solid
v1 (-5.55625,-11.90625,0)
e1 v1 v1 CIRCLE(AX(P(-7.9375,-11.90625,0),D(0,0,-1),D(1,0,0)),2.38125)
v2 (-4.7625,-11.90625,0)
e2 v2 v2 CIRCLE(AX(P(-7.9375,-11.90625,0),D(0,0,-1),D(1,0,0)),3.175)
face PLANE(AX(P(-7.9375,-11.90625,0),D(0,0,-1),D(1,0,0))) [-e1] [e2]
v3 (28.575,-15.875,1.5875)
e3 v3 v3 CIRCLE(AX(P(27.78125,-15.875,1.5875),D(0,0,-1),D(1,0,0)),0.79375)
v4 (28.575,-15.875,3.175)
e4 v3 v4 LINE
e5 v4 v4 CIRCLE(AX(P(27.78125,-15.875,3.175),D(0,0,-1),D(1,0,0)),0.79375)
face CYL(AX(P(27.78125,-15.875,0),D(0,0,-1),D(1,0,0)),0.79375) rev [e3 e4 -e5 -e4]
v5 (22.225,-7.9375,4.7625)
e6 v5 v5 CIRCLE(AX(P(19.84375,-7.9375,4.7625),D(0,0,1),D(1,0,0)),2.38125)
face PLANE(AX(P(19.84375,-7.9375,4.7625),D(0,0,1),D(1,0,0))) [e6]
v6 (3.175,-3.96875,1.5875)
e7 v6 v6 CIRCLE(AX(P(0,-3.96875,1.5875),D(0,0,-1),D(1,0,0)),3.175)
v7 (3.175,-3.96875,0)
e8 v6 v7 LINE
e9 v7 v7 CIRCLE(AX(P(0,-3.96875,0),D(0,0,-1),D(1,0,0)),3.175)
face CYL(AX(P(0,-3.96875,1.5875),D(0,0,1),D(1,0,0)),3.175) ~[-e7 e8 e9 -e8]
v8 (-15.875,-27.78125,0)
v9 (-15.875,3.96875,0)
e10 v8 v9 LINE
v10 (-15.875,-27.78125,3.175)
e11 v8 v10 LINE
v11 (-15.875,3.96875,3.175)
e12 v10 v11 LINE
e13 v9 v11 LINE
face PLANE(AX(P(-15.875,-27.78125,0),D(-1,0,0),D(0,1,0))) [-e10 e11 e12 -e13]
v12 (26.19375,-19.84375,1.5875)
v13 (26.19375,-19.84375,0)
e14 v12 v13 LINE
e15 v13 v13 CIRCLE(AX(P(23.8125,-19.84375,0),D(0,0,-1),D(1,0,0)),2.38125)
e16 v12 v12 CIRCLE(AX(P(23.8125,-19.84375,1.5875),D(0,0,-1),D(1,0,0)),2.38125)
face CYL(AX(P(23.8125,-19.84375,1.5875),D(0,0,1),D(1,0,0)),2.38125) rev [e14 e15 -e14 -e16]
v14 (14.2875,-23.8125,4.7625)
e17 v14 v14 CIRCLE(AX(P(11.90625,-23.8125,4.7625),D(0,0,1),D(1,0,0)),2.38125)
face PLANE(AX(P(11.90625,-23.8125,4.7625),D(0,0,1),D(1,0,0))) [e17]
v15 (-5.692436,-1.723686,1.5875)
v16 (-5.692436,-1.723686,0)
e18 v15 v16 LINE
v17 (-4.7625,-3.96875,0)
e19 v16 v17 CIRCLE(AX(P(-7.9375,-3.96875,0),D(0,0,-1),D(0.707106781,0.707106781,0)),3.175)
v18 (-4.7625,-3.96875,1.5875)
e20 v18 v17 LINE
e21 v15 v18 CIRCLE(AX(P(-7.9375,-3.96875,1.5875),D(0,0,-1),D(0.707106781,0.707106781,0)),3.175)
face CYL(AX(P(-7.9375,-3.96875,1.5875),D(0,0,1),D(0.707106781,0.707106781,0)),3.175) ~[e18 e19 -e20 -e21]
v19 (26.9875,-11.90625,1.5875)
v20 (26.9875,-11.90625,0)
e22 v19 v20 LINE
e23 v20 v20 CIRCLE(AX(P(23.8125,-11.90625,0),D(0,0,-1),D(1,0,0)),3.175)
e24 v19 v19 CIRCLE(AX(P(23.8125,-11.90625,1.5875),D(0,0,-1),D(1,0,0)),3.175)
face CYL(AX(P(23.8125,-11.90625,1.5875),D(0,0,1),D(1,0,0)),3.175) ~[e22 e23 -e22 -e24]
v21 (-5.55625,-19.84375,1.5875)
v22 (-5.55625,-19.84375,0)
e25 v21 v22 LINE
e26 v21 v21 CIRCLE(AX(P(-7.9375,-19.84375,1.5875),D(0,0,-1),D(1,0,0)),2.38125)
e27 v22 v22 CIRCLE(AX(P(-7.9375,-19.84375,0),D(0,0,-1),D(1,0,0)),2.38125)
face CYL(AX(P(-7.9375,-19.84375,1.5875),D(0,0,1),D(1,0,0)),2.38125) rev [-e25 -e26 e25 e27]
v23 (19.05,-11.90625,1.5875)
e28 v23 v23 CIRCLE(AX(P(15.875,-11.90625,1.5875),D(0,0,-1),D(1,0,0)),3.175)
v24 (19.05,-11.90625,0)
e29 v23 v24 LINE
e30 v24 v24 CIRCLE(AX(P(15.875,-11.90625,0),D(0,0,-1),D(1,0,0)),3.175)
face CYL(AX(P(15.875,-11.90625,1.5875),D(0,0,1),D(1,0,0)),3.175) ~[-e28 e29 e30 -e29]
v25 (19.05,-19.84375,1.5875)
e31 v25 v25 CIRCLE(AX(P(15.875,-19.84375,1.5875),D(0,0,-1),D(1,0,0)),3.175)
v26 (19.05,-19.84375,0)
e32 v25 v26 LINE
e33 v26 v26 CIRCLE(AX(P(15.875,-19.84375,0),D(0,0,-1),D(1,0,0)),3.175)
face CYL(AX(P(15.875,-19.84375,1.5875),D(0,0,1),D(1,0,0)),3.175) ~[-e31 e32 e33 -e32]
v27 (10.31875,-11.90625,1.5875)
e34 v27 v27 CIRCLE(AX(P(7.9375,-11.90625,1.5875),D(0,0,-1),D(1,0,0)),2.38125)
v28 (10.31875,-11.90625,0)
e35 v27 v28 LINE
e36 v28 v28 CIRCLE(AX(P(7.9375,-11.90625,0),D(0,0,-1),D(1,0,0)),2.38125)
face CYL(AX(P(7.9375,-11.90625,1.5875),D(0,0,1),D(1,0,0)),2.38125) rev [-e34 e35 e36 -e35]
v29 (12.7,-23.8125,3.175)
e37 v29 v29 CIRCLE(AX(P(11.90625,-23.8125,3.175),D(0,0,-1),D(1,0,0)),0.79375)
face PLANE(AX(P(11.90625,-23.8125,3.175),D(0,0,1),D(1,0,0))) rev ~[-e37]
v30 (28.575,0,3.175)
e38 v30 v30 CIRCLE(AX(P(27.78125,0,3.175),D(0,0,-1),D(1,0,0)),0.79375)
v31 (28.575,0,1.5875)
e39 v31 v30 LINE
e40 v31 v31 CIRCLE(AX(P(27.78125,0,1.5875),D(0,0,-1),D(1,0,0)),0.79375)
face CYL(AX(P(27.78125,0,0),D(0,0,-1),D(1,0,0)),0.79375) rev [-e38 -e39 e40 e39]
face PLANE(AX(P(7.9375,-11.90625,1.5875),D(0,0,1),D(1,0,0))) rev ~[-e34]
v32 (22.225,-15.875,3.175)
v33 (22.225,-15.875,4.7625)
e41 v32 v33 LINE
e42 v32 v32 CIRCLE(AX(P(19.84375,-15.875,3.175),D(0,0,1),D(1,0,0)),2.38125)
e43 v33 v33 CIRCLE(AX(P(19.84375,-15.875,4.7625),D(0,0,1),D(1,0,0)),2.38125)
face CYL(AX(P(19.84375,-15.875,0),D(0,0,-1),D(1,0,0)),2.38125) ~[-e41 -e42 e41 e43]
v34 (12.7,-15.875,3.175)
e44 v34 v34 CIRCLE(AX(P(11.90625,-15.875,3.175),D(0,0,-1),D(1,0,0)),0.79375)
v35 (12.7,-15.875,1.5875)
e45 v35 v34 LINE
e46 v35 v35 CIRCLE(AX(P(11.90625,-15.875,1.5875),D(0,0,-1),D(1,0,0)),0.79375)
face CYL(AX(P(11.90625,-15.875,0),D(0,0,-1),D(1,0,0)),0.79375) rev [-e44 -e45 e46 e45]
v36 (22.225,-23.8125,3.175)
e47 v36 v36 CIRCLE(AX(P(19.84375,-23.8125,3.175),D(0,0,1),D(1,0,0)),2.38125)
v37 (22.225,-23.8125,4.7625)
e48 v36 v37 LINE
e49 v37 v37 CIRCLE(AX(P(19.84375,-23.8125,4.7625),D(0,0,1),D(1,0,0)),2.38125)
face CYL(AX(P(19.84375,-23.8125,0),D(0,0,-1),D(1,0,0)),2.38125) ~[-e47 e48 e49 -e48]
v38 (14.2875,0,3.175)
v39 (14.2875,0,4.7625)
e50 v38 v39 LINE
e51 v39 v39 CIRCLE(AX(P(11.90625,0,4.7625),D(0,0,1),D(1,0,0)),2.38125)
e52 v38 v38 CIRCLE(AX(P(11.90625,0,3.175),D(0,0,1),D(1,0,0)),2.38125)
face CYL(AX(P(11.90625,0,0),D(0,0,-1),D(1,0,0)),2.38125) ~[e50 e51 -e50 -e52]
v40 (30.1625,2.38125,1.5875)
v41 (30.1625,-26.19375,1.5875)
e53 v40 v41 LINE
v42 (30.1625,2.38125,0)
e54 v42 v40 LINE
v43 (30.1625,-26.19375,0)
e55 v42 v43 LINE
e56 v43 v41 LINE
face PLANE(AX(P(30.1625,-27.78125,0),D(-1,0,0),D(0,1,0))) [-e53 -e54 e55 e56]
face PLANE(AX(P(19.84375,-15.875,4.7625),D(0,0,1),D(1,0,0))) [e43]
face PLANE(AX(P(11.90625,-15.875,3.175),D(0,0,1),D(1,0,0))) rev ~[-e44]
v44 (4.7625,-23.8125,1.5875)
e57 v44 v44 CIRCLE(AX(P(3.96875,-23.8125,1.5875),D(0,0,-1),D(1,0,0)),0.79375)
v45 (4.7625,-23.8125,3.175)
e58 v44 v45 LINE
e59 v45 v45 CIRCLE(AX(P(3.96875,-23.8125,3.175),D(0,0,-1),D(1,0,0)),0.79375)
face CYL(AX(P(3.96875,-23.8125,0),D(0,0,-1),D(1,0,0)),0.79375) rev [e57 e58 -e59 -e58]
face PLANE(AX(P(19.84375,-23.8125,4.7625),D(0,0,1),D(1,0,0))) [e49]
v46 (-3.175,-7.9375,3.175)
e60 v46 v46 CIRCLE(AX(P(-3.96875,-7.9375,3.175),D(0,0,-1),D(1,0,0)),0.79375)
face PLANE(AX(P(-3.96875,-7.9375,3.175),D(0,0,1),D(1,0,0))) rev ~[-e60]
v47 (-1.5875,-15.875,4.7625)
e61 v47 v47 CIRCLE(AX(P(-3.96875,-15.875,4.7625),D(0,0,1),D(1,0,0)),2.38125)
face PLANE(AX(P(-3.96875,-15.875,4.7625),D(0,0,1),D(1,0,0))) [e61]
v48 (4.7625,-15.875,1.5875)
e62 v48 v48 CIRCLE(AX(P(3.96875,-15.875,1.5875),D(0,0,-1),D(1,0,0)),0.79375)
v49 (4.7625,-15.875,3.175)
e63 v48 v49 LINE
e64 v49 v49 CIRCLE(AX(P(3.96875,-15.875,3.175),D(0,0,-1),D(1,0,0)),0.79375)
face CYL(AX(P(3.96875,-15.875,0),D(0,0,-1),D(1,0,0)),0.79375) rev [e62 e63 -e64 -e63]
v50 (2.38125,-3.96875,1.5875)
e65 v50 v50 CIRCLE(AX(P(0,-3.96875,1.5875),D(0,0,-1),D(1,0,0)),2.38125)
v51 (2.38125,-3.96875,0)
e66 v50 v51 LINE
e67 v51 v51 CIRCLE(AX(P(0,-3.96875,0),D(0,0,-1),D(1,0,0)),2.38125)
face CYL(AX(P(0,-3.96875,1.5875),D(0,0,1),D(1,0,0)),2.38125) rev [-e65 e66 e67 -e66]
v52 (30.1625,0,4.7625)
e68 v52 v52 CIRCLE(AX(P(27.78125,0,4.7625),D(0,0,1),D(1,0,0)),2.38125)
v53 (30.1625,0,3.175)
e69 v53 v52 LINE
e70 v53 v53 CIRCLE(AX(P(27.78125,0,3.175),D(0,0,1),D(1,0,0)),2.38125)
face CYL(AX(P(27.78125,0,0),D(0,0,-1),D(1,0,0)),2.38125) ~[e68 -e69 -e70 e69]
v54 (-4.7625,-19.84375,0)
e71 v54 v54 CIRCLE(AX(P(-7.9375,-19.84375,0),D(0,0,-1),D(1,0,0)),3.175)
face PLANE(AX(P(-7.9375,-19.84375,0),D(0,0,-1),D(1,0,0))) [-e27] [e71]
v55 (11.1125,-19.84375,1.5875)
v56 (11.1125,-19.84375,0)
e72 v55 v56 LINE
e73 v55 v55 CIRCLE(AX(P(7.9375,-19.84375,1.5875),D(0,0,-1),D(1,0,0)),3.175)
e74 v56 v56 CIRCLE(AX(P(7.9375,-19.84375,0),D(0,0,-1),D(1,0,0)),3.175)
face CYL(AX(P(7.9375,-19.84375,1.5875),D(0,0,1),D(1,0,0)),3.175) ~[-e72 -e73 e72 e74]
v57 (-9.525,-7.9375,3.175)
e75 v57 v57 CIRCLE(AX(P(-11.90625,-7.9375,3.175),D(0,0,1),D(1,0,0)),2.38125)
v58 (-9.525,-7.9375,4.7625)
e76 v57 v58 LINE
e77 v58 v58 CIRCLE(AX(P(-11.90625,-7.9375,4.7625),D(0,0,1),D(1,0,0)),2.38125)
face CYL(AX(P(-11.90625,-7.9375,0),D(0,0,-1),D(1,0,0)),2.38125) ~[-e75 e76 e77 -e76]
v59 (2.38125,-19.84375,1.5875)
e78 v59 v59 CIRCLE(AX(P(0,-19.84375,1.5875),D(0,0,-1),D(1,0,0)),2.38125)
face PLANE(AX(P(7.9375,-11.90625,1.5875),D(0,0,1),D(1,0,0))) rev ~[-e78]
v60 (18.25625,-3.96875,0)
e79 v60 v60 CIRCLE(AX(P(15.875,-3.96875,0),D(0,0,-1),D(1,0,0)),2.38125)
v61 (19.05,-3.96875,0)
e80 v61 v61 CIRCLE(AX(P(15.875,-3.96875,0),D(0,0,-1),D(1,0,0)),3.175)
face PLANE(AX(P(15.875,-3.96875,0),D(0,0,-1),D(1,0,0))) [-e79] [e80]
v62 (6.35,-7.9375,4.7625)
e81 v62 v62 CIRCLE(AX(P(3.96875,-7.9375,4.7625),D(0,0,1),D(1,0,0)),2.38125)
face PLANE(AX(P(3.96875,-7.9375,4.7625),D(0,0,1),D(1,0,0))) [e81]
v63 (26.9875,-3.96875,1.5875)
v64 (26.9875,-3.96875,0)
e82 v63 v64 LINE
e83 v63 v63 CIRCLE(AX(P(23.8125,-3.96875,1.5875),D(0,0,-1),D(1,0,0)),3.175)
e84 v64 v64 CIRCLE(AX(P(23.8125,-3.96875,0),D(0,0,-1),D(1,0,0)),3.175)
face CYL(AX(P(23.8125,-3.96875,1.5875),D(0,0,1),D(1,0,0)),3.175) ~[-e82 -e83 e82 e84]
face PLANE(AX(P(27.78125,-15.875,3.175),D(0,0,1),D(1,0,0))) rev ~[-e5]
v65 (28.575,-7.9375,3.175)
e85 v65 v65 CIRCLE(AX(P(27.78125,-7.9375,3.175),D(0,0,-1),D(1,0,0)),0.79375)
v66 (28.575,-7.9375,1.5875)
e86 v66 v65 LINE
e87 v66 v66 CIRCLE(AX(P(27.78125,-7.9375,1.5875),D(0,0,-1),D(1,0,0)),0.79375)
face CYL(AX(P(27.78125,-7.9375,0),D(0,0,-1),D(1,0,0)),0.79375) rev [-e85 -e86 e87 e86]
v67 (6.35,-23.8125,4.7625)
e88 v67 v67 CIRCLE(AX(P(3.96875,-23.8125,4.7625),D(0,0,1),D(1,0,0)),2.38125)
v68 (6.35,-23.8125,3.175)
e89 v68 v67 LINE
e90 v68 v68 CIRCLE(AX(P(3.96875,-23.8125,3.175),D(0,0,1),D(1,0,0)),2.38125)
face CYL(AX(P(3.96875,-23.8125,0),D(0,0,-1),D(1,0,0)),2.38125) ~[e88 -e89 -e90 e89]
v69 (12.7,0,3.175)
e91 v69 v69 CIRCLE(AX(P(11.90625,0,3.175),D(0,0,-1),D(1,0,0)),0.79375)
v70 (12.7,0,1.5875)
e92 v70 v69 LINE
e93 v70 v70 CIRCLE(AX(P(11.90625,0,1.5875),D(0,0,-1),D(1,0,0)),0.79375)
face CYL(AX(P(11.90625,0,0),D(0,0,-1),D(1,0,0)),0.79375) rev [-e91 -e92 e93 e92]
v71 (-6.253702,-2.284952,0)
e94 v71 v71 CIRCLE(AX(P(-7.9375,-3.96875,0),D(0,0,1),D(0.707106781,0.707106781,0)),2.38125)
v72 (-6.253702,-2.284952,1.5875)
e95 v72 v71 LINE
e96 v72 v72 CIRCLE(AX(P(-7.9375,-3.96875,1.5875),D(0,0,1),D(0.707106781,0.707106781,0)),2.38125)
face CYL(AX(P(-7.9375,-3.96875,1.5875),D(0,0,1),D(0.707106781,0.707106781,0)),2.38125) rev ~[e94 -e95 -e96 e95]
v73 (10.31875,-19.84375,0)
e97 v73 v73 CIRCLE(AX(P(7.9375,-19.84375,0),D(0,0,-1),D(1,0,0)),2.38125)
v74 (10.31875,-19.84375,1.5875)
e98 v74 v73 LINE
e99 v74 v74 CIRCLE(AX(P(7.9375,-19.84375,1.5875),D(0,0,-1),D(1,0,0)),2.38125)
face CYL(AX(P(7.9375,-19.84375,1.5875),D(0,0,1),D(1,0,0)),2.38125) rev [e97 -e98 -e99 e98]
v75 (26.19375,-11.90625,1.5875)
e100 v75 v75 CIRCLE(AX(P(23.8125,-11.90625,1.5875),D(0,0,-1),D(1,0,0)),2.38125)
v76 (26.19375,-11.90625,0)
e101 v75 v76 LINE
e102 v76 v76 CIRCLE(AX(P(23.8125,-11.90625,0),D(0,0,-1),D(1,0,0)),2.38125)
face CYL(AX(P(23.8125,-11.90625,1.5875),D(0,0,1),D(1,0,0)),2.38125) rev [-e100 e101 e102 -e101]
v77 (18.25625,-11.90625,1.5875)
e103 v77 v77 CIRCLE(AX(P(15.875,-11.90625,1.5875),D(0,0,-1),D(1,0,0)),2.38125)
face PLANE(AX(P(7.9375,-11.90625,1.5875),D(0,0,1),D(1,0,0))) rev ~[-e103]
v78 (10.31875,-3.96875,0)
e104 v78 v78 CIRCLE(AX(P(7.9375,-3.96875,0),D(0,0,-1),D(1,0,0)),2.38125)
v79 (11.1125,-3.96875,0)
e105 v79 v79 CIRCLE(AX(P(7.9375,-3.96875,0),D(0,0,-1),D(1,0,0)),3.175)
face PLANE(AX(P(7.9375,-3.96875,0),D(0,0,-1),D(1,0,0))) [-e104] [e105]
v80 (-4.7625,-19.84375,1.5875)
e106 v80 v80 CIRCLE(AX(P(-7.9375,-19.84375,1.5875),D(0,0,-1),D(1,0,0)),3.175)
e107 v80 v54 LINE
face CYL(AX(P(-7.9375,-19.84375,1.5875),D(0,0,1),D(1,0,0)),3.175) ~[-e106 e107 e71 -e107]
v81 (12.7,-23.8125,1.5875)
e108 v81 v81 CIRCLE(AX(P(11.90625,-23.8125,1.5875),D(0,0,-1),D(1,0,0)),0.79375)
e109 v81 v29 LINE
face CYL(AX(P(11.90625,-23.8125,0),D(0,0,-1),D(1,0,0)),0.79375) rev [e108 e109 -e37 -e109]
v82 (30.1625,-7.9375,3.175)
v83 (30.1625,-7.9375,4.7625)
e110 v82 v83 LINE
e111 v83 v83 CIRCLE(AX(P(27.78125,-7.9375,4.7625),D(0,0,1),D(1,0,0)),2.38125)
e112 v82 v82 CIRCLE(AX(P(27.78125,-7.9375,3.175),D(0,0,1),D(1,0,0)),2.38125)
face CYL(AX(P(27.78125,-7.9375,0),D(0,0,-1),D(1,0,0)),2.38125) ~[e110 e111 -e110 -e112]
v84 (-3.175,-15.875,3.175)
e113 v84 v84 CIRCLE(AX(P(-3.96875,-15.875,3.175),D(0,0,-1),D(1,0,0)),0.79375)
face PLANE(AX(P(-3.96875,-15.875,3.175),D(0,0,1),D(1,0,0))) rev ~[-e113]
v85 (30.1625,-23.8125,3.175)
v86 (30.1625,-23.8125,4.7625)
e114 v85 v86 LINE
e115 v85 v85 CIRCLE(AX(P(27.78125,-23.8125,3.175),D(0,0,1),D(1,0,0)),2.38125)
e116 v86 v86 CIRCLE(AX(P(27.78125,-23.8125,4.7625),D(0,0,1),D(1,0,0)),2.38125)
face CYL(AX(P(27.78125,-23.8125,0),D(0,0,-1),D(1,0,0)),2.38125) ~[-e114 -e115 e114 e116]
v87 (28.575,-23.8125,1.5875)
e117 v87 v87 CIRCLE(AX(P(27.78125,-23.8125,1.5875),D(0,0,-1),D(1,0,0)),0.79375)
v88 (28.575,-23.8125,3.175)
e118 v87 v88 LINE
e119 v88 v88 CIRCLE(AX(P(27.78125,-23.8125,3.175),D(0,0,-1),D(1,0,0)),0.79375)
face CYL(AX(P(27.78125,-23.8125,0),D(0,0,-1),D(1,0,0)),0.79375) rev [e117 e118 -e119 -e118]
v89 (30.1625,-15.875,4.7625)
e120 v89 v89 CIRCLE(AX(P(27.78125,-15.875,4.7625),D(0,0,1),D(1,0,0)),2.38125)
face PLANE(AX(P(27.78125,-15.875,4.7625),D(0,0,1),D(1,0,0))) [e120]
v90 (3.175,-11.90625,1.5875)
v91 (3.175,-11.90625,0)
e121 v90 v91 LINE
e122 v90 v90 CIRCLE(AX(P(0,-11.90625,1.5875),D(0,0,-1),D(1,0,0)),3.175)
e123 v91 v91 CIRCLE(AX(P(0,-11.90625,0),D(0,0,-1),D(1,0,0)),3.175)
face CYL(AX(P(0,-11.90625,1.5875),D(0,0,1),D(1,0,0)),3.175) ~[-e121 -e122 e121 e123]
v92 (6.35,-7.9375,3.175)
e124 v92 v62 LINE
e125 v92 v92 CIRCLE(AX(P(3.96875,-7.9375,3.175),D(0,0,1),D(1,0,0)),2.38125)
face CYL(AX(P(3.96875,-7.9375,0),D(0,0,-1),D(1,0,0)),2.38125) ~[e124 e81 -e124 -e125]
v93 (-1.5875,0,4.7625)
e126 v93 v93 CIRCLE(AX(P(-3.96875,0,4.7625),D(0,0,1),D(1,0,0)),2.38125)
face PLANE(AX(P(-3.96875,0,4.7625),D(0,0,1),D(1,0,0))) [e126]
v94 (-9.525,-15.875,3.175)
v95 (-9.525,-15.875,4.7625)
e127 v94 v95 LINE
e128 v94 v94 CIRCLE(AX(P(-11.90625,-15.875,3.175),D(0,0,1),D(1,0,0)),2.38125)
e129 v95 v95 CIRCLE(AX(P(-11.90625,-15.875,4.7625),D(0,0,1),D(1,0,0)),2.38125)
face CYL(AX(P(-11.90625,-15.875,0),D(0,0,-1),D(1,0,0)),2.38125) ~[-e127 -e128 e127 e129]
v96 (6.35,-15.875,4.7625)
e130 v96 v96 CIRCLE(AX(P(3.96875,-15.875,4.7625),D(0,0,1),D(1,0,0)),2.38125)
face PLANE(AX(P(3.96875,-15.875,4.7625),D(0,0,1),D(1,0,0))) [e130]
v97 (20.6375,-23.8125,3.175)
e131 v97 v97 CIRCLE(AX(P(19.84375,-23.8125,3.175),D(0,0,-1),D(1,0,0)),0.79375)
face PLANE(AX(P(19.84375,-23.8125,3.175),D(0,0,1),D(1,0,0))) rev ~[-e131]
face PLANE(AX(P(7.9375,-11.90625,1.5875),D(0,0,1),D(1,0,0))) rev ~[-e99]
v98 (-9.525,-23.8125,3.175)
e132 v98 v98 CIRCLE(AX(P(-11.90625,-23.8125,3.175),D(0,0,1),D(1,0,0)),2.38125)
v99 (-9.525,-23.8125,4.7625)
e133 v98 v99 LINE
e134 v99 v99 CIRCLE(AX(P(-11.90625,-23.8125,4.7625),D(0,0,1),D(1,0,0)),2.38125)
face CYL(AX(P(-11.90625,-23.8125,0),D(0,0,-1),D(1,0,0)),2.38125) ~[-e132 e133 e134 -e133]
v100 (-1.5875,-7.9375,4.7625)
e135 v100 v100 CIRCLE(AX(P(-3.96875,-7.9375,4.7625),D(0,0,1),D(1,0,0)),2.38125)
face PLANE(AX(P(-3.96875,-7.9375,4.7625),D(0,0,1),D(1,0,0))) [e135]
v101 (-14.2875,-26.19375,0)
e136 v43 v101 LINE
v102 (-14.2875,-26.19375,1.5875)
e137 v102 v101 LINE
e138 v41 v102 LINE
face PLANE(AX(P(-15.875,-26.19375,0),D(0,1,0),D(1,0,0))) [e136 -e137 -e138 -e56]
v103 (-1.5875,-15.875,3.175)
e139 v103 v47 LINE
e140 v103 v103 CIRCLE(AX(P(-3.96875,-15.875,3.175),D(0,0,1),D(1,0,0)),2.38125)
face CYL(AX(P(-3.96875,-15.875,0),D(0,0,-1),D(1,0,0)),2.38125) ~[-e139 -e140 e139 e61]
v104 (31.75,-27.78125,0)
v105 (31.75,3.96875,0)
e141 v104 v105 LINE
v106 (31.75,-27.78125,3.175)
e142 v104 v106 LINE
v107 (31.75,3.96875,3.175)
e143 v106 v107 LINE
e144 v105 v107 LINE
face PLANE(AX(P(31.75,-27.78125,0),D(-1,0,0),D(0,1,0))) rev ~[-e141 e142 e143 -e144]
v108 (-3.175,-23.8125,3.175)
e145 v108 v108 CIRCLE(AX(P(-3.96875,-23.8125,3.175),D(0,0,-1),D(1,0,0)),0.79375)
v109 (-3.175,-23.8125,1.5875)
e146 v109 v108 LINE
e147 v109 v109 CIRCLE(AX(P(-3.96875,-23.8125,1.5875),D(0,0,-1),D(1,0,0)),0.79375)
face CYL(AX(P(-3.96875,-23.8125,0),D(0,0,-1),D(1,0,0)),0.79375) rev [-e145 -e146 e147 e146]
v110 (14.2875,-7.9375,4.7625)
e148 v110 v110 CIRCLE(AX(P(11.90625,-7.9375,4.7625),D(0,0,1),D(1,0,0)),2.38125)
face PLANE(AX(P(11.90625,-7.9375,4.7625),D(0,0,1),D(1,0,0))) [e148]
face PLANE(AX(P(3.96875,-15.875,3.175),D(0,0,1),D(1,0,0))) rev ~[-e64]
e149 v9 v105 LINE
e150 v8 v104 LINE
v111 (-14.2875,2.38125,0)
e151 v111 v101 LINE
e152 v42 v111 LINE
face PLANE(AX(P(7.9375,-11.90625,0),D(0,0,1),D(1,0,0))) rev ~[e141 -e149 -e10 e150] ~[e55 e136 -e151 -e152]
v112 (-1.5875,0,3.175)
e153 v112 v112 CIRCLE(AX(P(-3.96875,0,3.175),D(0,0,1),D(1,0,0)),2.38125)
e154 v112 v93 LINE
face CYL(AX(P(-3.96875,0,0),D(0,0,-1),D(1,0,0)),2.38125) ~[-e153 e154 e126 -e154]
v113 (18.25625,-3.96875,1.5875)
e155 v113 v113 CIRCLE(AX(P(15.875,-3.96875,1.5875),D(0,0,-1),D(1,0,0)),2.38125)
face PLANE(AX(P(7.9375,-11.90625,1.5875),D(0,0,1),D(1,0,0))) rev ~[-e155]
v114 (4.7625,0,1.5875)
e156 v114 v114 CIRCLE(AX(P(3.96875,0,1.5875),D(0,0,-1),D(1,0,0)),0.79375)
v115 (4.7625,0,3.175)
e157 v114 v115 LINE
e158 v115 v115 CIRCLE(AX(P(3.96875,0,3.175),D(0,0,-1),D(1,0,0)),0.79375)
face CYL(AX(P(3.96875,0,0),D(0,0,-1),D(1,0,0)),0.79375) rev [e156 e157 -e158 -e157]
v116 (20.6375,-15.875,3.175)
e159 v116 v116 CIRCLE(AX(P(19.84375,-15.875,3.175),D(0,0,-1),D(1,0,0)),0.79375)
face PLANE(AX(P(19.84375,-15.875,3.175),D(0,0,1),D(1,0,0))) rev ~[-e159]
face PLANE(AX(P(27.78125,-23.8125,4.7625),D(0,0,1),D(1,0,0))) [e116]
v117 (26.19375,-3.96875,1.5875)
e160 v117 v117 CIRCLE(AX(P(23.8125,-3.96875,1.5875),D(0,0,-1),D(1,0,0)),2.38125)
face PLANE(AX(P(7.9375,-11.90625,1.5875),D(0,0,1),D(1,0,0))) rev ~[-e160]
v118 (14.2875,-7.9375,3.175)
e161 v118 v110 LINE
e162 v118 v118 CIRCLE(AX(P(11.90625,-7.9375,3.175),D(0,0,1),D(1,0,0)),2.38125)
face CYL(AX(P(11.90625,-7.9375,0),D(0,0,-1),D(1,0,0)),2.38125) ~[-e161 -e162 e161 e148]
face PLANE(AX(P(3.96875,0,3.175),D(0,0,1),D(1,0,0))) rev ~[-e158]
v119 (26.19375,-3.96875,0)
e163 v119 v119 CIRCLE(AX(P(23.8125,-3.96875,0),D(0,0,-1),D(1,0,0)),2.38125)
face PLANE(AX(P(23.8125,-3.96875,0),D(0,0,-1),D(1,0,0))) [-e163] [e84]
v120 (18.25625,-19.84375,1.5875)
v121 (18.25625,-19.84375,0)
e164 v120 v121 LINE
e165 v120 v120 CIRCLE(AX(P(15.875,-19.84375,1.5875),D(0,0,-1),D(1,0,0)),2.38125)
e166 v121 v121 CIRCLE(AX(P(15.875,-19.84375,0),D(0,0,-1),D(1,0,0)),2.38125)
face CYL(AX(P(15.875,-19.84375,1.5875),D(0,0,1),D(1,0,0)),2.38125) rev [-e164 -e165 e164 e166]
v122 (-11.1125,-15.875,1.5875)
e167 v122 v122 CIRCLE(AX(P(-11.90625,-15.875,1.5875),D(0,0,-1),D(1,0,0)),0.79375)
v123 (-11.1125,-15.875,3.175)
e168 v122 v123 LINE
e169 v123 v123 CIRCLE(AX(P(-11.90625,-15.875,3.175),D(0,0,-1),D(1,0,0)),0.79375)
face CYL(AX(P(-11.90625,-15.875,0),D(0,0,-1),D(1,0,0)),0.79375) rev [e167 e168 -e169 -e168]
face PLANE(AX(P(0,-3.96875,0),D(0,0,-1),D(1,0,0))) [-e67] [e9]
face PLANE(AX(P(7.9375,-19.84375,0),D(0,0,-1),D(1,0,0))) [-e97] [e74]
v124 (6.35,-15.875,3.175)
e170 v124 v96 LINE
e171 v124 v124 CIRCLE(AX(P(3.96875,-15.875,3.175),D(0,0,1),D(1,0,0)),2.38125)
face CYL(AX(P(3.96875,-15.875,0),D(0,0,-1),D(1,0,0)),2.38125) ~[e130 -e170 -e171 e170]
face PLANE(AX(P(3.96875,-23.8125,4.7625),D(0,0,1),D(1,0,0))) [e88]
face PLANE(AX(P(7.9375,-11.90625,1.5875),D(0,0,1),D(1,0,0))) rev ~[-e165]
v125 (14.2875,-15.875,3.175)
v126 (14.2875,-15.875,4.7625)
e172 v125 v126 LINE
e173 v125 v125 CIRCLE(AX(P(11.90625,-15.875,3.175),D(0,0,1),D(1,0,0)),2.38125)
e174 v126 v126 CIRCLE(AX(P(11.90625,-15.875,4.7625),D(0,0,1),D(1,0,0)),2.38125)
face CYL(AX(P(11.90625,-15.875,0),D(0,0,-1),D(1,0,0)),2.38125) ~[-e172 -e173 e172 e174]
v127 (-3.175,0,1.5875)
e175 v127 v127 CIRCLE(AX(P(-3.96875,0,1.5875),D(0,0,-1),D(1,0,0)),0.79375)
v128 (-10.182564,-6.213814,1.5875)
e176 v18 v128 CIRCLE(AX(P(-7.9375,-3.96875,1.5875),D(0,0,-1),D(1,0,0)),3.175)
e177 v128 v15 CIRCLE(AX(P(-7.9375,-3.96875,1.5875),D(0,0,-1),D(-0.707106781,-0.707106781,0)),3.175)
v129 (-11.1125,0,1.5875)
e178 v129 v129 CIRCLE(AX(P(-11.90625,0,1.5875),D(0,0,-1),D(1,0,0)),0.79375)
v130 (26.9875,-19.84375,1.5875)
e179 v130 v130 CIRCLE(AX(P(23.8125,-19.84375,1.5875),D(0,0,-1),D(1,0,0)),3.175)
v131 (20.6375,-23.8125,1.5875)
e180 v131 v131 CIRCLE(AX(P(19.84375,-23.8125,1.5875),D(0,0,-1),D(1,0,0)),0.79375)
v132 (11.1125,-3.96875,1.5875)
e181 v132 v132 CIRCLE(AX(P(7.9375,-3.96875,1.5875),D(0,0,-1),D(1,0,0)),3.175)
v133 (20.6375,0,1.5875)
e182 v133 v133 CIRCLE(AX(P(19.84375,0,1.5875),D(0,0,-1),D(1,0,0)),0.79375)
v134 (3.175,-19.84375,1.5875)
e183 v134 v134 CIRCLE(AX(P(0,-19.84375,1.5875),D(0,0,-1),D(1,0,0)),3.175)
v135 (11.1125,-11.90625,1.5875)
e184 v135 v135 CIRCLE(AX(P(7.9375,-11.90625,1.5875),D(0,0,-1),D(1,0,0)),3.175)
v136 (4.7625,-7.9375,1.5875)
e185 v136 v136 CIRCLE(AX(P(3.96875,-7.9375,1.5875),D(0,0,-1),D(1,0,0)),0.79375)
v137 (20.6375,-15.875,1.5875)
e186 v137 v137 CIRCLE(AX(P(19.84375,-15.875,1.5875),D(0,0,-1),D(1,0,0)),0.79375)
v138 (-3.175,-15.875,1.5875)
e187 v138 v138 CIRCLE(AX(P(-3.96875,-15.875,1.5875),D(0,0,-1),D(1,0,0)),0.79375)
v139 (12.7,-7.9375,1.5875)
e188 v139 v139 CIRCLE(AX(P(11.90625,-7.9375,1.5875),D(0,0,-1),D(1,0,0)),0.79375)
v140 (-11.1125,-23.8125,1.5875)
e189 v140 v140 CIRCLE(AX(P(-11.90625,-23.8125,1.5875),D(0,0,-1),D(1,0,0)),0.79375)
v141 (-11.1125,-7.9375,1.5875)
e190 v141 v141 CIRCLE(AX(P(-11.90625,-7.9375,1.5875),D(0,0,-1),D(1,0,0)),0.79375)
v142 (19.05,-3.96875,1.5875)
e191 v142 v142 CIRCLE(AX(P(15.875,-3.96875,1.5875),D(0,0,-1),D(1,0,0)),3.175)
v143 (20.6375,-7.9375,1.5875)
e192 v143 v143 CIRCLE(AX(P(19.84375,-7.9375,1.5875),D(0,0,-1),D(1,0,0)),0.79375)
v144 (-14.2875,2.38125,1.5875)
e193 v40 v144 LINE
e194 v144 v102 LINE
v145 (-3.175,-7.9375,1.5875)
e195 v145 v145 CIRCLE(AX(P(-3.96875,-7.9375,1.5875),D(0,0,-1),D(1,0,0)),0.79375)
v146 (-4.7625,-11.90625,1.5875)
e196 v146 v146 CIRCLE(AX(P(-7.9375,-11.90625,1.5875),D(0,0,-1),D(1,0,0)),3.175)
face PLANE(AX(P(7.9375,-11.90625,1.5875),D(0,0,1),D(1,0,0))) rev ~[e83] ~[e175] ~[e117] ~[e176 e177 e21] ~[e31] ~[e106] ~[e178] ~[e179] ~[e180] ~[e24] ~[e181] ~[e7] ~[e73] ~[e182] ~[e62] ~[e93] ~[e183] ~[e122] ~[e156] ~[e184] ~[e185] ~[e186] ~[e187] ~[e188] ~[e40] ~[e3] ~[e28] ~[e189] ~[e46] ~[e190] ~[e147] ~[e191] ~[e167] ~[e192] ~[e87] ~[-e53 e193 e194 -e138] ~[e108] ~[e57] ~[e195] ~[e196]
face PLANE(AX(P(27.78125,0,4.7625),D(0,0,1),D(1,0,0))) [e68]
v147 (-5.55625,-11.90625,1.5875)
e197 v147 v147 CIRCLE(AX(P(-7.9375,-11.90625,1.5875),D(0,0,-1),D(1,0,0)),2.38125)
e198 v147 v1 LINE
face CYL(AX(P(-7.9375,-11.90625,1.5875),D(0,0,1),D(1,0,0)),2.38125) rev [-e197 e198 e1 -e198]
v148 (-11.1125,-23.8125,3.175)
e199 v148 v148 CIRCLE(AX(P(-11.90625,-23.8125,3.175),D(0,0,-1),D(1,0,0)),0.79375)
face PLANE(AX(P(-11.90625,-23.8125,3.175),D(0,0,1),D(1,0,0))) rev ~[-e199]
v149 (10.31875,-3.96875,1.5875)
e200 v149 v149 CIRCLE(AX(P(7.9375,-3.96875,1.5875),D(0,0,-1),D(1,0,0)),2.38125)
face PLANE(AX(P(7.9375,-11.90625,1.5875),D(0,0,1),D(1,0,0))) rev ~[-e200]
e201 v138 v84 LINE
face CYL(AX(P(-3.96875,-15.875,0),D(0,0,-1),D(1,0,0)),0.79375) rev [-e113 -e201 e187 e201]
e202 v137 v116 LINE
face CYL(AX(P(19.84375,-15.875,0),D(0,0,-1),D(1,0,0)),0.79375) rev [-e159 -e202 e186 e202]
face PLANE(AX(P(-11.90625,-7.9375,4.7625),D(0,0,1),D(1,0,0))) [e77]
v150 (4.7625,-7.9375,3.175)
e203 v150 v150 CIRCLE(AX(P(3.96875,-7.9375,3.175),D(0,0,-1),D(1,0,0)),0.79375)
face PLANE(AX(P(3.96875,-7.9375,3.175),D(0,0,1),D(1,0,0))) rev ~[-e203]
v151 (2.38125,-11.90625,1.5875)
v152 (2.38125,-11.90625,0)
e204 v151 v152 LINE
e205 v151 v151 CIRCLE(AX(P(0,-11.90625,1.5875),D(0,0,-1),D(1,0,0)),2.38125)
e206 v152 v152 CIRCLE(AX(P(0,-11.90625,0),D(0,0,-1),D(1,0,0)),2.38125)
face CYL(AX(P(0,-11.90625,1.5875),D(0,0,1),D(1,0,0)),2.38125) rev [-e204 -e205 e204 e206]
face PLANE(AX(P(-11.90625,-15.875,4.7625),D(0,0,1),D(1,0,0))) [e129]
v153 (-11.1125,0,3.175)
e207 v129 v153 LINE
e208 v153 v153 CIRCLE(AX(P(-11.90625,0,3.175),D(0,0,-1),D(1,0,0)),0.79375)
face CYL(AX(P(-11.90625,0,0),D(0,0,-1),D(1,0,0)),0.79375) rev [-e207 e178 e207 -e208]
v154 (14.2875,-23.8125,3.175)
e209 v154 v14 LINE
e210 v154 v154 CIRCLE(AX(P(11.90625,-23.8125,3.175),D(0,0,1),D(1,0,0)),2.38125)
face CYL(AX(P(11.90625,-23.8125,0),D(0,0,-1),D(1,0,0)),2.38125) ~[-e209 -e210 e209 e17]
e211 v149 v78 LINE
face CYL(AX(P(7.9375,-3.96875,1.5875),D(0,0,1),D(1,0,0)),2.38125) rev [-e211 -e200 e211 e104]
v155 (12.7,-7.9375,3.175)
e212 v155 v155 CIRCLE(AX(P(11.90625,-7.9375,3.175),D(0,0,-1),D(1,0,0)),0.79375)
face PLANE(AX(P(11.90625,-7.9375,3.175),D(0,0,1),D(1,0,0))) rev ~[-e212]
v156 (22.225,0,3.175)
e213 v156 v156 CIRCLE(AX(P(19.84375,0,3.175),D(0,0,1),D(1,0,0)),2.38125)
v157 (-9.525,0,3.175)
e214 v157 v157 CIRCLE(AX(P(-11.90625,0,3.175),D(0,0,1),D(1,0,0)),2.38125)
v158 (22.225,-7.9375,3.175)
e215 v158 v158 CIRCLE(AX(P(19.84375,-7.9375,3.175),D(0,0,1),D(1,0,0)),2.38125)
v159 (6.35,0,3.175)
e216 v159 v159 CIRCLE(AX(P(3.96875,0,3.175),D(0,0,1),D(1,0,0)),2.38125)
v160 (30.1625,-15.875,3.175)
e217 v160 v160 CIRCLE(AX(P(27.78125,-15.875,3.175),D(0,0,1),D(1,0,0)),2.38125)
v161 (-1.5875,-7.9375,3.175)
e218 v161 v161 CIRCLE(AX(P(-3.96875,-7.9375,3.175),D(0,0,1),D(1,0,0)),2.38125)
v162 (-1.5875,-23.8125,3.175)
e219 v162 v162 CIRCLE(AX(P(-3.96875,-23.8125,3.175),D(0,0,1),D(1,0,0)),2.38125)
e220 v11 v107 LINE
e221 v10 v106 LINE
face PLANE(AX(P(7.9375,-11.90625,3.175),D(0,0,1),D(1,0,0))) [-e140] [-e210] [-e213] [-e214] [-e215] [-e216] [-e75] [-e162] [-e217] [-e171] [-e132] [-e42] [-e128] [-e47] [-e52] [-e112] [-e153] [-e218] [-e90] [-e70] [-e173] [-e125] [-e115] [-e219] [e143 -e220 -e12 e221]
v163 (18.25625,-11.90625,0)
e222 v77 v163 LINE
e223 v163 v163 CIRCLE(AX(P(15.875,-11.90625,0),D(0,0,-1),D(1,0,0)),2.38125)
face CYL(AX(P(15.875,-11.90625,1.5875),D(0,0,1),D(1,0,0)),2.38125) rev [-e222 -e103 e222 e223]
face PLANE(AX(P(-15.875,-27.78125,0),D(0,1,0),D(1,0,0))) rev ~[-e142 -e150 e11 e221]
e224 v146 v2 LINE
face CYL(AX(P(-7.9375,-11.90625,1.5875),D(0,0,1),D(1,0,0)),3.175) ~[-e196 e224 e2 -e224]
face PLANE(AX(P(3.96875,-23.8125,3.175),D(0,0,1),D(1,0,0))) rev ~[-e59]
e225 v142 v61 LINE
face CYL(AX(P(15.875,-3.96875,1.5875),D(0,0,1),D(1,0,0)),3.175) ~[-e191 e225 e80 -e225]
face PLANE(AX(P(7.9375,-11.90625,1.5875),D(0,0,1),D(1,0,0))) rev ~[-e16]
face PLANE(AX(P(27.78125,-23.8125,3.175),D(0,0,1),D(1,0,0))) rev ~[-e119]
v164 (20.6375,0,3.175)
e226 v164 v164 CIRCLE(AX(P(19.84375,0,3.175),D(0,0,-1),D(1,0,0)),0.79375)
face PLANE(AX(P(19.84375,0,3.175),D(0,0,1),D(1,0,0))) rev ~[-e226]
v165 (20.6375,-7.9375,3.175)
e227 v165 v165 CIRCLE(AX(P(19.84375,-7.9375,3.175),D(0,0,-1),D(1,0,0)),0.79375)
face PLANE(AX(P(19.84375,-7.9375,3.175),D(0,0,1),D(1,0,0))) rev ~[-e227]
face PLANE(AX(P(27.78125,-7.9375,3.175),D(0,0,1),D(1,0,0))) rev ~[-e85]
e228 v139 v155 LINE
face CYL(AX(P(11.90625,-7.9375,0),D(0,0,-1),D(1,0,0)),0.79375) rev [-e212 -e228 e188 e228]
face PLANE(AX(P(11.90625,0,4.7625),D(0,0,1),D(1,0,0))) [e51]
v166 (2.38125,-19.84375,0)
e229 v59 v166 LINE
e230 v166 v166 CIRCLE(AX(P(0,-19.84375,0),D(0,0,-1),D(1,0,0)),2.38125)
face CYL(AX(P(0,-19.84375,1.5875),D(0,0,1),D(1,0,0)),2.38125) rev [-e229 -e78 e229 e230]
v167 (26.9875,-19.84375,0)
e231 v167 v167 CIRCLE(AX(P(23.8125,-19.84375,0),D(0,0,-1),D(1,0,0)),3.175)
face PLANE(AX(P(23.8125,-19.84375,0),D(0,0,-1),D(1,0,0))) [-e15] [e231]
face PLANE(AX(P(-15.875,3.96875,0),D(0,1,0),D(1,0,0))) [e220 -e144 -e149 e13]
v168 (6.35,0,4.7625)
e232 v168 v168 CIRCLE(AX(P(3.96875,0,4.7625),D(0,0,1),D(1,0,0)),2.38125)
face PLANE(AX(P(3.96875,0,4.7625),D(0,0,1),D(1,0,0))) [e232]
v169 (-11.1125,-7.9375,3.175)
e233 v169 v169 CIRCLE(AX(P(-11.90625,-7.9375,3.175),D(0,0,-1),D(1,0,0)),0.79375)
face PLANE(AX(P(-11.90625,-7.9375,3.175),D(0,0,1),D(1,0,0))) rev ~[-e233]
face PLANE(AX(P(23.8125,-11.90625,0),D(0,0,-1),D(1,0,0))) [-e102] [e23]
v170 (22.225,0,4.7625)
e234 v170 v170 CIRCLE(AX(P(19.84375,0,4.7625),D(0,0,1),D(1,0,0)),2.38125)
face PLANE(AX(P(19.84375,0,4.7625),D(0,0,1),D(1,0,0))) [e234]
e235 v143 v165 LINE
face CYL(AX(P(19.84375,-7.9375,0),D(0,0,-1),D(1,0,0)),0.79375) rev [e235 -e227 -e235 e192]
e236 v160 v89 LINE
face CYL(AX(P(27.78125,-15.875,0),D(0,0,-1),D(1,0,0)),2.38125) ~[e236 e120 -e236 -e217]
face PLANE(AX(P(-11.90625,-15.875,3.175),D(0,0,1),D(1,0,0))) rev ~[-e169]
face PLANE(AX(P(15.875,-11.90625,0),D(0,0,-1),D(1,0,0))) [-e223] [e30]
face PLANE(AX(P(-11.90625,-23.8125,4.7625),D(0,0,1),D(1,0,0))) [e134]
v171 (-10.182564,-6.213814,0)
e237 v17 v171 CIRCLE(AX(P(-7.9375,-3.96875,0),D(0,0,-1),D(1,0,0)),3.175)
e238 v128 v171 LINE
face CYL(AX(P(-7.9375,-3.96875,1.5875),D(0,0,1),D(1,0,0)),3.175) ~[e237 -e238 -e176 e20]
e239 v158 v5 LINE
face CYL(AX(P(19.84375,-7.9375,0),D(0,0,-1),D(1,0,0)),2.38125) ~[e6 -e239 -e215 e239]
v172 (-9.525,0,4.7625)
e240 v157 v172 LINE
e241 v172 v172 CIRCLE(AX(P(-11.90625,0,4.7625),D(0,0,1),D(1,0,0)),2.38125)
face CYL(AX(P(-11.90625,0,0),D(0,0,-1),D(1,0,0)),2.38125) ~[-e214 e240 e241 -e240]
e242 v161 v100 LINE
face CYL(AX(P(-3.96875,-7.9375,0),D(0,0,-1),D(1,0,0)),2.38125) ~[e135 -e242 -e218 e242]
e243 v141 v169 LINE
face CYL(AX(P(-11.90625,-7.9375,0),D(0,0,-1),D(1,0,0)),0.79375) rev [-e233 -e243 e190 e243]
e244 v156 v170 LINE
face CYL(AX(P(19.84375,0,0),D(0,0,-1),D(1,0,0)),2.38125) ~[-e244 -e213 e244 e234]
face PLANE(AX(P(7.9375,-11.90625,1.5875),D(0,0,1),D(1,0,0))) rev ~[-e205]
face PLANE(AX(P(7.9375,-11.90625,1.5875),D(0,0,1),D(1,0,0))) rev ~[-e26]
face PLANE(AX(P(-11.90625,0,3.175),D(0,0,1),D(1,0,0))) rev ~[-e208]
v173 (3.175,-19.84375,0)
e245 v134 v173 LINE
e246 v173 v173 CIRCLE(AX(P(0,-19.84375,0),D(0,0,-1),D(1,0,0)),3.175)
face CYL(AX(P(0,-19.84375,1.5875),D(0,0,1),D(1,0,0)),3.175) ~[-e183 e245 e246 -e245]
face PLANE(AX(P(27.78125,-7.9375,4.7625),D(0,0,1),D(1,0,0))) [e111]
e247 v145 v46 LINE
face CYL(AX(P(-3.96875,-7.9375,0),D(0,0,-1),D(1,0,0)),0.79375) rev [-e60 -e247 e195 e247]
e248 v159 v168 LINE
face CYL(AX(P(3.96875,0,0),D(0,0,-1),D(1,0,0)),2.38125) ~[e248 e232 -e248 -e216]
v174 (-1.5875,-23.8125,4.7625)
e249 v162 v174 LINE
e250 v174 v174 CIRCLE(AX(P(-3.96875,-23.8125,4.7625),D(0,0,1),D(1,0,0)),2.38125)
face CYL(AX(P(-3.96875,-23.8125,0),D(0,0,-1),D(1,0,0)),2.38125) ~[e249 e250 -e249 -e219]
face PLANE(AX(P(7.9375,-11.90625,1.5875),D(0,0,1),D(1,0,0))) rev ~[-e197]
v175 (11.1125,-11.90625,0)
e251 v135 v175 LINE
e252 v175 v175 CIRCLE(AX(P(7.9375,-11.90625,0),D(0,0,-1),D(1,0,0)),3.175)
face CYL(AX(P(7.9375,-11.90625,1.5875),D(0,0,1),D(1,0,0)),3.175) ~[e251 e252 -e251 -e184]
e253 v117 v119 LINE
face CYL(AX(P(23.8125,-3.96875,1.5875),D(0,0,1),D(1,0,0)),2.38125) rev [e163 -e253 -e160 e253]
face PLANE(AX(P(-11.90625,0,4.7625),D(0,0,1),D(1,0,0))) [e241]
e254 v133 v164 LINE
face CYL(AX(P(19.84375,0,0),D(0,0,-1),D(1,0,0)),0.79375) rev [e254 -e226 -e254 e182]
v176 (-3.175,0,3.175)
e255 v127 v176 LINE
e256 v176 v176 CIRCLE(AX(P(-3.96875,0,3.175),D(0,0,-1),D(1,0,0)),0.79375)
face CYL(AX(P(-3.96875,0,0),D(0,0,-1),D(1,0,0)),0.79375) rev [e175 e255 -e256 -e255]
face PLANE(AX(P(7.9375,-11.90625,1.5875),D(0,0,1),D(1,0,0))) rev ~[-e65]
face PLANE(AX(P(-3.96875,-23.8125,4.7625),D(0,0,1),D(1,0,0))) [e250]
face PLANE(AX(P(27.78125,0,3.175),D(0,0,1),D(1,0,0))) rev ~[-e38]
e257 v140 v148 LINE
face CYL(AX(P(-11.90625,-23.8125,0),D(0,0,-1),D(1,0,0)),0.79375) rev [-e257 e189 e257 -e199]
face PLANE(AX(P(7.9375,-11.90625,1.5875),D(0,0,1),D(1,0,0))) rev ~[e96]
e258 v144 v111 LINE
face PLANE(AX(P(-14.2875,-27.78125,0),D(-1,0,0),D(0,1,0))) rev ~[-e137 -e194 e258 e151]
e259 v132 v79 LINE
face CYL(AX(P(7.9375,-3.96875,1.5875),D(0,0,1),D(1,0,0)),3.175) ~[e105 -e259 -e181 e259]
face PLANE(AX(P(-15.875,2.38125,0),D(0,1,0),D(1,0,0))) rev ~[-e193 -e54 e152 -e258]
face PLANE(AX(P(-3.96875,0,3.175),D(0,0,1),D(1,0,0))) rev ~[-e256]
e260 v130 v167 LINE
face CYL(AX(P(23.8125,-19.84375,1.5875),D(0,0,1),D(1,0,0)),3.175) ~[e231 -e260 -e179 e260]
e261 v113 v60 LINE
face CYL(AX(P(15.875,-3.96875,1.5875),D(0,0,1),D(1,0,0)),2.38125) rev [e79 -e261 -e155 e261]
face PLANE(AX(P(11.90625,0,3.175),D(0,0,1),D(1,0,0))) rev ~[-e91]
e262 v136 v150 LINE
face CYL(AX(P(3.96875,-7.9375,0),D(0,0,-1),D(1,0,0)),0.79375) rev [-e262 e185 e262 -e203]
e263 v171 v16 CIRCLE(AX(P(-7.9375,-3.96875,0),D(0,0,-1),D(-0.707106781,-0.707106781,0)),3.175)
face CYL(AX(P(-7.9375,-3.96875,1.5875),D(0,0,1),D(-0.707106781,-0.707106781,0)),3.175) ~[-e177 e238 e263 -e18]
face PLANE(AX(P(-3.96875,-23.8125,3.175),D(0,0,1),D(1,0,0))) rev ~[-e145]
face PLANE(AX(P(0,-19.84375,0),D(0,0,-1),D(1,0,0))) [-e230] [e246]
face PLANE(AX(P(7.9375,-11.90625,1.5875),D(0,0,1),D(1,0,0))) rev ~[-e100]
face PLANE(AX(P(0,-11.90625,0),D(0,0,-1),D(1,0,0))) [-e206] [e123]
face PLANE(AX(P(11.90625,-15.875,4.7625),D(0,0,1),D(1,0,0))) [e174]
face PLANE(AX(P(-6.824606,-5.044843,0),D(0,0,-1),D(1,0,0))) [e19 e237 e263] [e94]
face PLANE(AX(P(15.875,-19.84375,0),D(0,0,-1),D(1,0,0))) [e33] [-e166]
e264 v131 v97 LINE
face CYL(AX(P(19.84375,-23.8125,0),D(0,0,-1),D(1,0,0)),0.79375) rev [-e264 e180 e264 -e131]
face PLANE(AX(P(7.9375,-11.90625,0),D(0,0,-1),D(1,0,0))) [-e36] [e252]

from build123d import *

# Parameters (mm, degrees)
F0_W     = 47.625
F0_H     = 31.75
F0_R     = 2.38125
F1_DEPTH = 3.175
F2_DEPTH = 4.7625
F3_T     = -1.5875
F4_R     = 3.175
F4_R_2   = 2.38125
F5_DEPTH = 1.5875


with BuildPart() as f1:
    # F0 (on Top) → F1 (new body)
    with BuildSketch(Plane.XY):
        with Locations((7.9375, -11.90625)):
            Rectangle(F0_W, F0_H)
        with Locations((-11.90625, -23.8125)):
            Circle(F0_R, mode=Mode.SUBTRACT)
        with Locations((-3.96875, -23.8125)):
            Circle(F0_R, mode=Mode.SUBTRACT)
        with Locations((3.96875, -23.8125)):
            Circle(F0_R, mode=Mode.SUBTRACT)
        with Locations((-11.90625, -15.875)):
            Circle(F0_R, mode=Mode.SUBTRACT)
        with Locations((-3.96875, -15.875)):
            Circle(F0_R, mode=Mode.SUBTRACT)
        with Locations((3.96875, -15.875)):
            Circle(F0_R, mode=Mode.SUBTRACT)
        with Locations((11.90625, -23.8125)):
            Circle(F0_R, mode=Mode.SUBTRACT)
        with Locations((19.84375, -23.8125)):
            Circle(F0_R, mode=Mode.SUBTRACT)
        with Locations((27.78125, -23.8125)):
            Circle(F0_R, mode=Mode.SUBTRACT)
        with Locations((11.90625, -15.875)):
            Circle(F0_R, mode=Mode.SUBTRACT)
        with Locations((19.84375, -15.875)):
            Circle(F0_R, mode=Mode.SUBTRACT)
        with Locations((27.78125, -15.875)):
            Circle(F0_R, mode=Mode.SUBTRACT)
        with Locations((-11.90625, -7.9375)):
            Circle(F0_R, mode=Mode.SUBTRACT)
        with Locations((-3.96875, -7.9375)):
            Circle(F0_R, mode=Mode.SUBTRACT)
        with Locations((3.96875, -7.9375)):
            Circle(F0_R, mode=Mode.SUBTRACT)
        with Locations((-11.90625, 0)):
            Circle(F0_R, mode=Mode.SUBTRACT)
        with Locations((-3.96875, 0)):
            Circle(F0_R, mode=Mode.SUBTRACT)
        with Locations((3.96875, 0)):
            Circle(F0_R, mode=Mode.SUBTRACT)
        with Locations((11.90625, -7.9375)):
            Circle(F0_R, mode=Mode.SUBTRACT)
        with Locations((19.84375, -7.9375)):
            Circle(F0_R, mode=Mode.SUBTRACT)
        with Locations((27.78125, -7.9375)):
            Circle(F0_R, mode=Mode.SUBTRACT)
        with Locations((11.90625, 0)):
            Circle(F0_R, mode=Mode.SUBTRACT)
        with Locations((19.84375, 0)):
            Circle(F0_R, mode=Mode.SUBTRACT)
        with Locations((27.78125, 0)):
            Circle(F0_R, mode=Mode.SUBTRACT)
    extrude(amount=F1_DEPTH)

    # F0 (on Top) → F2 (join)
    with BuildSketch(Plane.XY):
        with Locations((-11.90625, 0)):
            Circle(F0_R)
        with Locations((-11.90625, -7.9375)):
            Circle(F0_R)
        with Locations((-3.96875, -7.9375)):
            Circle(F0_R)
        with Locations((-3.96875, 0)):
            Circle(F0_R)
        with Locations((3.96875, 0)):
            Circle(F0_R)
        with Locations((3.96875, -7.9375)):
            Circle(F0_R)
        with Locations((11.90625, -7.9375)):
            Circle(F0_R)
        with Locations((11.90625, 0)):
            Circle(F0_R)
        with Locations((19.84375, 0)):
            Circle(F0_R)
        with Locations((27.78125, 0)):
            Circle(F0_R)
        with Locations((27.78125, -7.9375)):
            Circle(F0_R)
        with Locations((19.84375, -7.9375)):
            Circle(F0_R)
        with Locations((-11.90625, -15.875)):
            Circle(F0_R)
        with Locations((-3.96875, -15.875)):
            Circle(F0_R)
        with Locations((3.96875, -15.875)):
            Circle(F0_R)
        with Locations((11.90625, -15.875)):
            Circle(F0_R)
        with Locations((19.84375, -15.875)):
            Circle(F0_R)
        with Locations((27.78125, -15.875)):
            Circle(F0_R)
        with Locations((27.78125, -23.8125)):
            Circle(F0_R)
        with Locations((19.84375, -23.8125)):
            Circle(F0_R)
        with Locations((11.90625, -23.8125)):
            Circle(F0_R)
        with Locations((3.96875, -23.8125)):
            Circle(F0_R)
        with Locations((-3.96875, -23.8125)):
            Circle(F0_R)
        with Locations((-11.90625, -23.8125)):
            Circle(F0_R)
    extrude(amount=F2_DEPTH)

    # F3
    f3_openings = [f1.faces().sort_by_distance(p)[0] for p in [
        (7.9375, -11.90625, 0),
    ]]
    offset(amount=F3_T, openings=f3_openings, kind=Kind.INTERSECTION)

    # F4 (on face) → F5 (join)
    with BuildSketch(Plane(origin=(0, 0, 1.5875), x_dir=(1, 0, 0), z_dir=(0, 0, -1))):
        with Locations((-7.9375, 19.84375)):
            Circle(F4_R)
        with Locations((-7.9375, 19.84375)):
            Circle(F4_R_2, mode=Mode.SUBTRACT)
        with Locations((0, 19.84375)):
            Circle(F4_R)
        with Locations((0, 19.84375)):
            Circle(F4_R_2, mode=Mode.SUBTRACT)
        with Locations((7.9375, 19.84375)):
            Circle(F4_R)
        with Locations((7.9375, 19.84375)):
            Circle(F4_R_2, mode=Mode.SUBTRACT)
        with Locations((15.875, 19.84375)):
            Circle(F4_R)
        with Locations((15.875, 19.84375)):
            Circle(F4_R_2, mode=Mode.SUBTRACT)
        with Locations((23.8125, 19.84375)):
            Circle(F4_R)
        with Locations((23.8125, 19.84375)):
            Circle(F4_R_2, mode=Mode.SUBTRACT)
        with Locations((23.8125, 11.90625)):
            Circle(F4_R)
        with Locations((23.8125, 11.90625)):
            Circle(F4_R_2, mode=Mode.SUBTRACT)
        with Locations((15.875, 11.90625)):
            Circle(F4_R)
        with Locations((15.875, 11.90625)):
            Circle(F4_R_2, mode=Mode.SUBTRACT)
        with Locations((7.9375, 11.90625)):
            Circle(F4_R)
        with Locations((7.9375, 11.90625)):
            Circle(F4_R_2, mode=Mode.SUBTRACT)
        with Locations((0, 11.90625)):
            Circle(F4_R)
        with Locations((0, 11.90625)):
            Circle(F4_R_2, mode=Mode.SUBTRACT)
        with Locations((-7.9375, 11.90625)):
            Circle(F4_R)
        with Locations((-7.9375, 11.90625)):
            Circle(F4_R_2, mode=Mode.SUBTRACT)
        with BuildLine():
            ThreePointArc((-4.7625, 3.96875), (-6.7224801022, 6.9020675157), (-10.1825640303, 6.2138140303))
            Line((-10.1825640303, 6.2138140303), (-9.6212980227, 5.6525480227))
            ThreePointArc((-9.6212980227, 5.6525480227), (-7.0262350767, 6.1687381368), (-5.55625, 3.96875))
            ThreePointArc((-5.55625, 3.96875), (-5.7375118632, 3.0574850767), (-6.2537019773, 2.2849519773))
            Line((-6.2537019773, 2.2849519773), (-5.6924359697, 1.7236859697))
            ThreePointArc((-5.6924359697, 1.7236859697), (-5.0041824843, 2.7537301022), (-4.7625, 3.96875))
        make_face()
        with BuildLine():
            Line((-9.6212980227, 5.6525480227), (-10.1825640303, 6.2138140303))
            ThreePointArc((-10.1825640303, 6.2138140303), (-10.1825640303, 1.7236859697), (-5.6924359697, 1.7236859697))
            Line((-5.6924359697, 1.7236859697), (-6.2537019773, 2.2849519773))
            ThreePointArc((-6.2537019773, 2.2849519773), (-9.6212980227, 2.2849519773), (-9.6212980227, 5.6525480227))
        make_face()
        with Locations((0, 3.96875)):
            Circle(F4_R)
        with Locations((0, 3.96875)):
            Circle(F4_R_2, mode=Mode.SUBTRACT)
        with Locations((7.9375, 3.96875)):
            Circle(F4_R)
        with Locations((7.9375, 3.96875)):
            Circle(F4_R_2, mode=Mode.SUBTRACT)
        with Locations((15.875, 3.96875)):
            Circle(F4_R)
        with Locations((15.875, 3.96875)):
            Circle(F4_R_2, mode=Mode.SUBTRACT)
        with Locations((23.8125, 3.96875)):
            Circle(F4_R)
        with Locations((23.8125, 3.96875)):
            Circle(F4_R_2, mode=Mode.SUBTRACT)
    extrude(amount=F5_DEPTH)


solid = f1.part
